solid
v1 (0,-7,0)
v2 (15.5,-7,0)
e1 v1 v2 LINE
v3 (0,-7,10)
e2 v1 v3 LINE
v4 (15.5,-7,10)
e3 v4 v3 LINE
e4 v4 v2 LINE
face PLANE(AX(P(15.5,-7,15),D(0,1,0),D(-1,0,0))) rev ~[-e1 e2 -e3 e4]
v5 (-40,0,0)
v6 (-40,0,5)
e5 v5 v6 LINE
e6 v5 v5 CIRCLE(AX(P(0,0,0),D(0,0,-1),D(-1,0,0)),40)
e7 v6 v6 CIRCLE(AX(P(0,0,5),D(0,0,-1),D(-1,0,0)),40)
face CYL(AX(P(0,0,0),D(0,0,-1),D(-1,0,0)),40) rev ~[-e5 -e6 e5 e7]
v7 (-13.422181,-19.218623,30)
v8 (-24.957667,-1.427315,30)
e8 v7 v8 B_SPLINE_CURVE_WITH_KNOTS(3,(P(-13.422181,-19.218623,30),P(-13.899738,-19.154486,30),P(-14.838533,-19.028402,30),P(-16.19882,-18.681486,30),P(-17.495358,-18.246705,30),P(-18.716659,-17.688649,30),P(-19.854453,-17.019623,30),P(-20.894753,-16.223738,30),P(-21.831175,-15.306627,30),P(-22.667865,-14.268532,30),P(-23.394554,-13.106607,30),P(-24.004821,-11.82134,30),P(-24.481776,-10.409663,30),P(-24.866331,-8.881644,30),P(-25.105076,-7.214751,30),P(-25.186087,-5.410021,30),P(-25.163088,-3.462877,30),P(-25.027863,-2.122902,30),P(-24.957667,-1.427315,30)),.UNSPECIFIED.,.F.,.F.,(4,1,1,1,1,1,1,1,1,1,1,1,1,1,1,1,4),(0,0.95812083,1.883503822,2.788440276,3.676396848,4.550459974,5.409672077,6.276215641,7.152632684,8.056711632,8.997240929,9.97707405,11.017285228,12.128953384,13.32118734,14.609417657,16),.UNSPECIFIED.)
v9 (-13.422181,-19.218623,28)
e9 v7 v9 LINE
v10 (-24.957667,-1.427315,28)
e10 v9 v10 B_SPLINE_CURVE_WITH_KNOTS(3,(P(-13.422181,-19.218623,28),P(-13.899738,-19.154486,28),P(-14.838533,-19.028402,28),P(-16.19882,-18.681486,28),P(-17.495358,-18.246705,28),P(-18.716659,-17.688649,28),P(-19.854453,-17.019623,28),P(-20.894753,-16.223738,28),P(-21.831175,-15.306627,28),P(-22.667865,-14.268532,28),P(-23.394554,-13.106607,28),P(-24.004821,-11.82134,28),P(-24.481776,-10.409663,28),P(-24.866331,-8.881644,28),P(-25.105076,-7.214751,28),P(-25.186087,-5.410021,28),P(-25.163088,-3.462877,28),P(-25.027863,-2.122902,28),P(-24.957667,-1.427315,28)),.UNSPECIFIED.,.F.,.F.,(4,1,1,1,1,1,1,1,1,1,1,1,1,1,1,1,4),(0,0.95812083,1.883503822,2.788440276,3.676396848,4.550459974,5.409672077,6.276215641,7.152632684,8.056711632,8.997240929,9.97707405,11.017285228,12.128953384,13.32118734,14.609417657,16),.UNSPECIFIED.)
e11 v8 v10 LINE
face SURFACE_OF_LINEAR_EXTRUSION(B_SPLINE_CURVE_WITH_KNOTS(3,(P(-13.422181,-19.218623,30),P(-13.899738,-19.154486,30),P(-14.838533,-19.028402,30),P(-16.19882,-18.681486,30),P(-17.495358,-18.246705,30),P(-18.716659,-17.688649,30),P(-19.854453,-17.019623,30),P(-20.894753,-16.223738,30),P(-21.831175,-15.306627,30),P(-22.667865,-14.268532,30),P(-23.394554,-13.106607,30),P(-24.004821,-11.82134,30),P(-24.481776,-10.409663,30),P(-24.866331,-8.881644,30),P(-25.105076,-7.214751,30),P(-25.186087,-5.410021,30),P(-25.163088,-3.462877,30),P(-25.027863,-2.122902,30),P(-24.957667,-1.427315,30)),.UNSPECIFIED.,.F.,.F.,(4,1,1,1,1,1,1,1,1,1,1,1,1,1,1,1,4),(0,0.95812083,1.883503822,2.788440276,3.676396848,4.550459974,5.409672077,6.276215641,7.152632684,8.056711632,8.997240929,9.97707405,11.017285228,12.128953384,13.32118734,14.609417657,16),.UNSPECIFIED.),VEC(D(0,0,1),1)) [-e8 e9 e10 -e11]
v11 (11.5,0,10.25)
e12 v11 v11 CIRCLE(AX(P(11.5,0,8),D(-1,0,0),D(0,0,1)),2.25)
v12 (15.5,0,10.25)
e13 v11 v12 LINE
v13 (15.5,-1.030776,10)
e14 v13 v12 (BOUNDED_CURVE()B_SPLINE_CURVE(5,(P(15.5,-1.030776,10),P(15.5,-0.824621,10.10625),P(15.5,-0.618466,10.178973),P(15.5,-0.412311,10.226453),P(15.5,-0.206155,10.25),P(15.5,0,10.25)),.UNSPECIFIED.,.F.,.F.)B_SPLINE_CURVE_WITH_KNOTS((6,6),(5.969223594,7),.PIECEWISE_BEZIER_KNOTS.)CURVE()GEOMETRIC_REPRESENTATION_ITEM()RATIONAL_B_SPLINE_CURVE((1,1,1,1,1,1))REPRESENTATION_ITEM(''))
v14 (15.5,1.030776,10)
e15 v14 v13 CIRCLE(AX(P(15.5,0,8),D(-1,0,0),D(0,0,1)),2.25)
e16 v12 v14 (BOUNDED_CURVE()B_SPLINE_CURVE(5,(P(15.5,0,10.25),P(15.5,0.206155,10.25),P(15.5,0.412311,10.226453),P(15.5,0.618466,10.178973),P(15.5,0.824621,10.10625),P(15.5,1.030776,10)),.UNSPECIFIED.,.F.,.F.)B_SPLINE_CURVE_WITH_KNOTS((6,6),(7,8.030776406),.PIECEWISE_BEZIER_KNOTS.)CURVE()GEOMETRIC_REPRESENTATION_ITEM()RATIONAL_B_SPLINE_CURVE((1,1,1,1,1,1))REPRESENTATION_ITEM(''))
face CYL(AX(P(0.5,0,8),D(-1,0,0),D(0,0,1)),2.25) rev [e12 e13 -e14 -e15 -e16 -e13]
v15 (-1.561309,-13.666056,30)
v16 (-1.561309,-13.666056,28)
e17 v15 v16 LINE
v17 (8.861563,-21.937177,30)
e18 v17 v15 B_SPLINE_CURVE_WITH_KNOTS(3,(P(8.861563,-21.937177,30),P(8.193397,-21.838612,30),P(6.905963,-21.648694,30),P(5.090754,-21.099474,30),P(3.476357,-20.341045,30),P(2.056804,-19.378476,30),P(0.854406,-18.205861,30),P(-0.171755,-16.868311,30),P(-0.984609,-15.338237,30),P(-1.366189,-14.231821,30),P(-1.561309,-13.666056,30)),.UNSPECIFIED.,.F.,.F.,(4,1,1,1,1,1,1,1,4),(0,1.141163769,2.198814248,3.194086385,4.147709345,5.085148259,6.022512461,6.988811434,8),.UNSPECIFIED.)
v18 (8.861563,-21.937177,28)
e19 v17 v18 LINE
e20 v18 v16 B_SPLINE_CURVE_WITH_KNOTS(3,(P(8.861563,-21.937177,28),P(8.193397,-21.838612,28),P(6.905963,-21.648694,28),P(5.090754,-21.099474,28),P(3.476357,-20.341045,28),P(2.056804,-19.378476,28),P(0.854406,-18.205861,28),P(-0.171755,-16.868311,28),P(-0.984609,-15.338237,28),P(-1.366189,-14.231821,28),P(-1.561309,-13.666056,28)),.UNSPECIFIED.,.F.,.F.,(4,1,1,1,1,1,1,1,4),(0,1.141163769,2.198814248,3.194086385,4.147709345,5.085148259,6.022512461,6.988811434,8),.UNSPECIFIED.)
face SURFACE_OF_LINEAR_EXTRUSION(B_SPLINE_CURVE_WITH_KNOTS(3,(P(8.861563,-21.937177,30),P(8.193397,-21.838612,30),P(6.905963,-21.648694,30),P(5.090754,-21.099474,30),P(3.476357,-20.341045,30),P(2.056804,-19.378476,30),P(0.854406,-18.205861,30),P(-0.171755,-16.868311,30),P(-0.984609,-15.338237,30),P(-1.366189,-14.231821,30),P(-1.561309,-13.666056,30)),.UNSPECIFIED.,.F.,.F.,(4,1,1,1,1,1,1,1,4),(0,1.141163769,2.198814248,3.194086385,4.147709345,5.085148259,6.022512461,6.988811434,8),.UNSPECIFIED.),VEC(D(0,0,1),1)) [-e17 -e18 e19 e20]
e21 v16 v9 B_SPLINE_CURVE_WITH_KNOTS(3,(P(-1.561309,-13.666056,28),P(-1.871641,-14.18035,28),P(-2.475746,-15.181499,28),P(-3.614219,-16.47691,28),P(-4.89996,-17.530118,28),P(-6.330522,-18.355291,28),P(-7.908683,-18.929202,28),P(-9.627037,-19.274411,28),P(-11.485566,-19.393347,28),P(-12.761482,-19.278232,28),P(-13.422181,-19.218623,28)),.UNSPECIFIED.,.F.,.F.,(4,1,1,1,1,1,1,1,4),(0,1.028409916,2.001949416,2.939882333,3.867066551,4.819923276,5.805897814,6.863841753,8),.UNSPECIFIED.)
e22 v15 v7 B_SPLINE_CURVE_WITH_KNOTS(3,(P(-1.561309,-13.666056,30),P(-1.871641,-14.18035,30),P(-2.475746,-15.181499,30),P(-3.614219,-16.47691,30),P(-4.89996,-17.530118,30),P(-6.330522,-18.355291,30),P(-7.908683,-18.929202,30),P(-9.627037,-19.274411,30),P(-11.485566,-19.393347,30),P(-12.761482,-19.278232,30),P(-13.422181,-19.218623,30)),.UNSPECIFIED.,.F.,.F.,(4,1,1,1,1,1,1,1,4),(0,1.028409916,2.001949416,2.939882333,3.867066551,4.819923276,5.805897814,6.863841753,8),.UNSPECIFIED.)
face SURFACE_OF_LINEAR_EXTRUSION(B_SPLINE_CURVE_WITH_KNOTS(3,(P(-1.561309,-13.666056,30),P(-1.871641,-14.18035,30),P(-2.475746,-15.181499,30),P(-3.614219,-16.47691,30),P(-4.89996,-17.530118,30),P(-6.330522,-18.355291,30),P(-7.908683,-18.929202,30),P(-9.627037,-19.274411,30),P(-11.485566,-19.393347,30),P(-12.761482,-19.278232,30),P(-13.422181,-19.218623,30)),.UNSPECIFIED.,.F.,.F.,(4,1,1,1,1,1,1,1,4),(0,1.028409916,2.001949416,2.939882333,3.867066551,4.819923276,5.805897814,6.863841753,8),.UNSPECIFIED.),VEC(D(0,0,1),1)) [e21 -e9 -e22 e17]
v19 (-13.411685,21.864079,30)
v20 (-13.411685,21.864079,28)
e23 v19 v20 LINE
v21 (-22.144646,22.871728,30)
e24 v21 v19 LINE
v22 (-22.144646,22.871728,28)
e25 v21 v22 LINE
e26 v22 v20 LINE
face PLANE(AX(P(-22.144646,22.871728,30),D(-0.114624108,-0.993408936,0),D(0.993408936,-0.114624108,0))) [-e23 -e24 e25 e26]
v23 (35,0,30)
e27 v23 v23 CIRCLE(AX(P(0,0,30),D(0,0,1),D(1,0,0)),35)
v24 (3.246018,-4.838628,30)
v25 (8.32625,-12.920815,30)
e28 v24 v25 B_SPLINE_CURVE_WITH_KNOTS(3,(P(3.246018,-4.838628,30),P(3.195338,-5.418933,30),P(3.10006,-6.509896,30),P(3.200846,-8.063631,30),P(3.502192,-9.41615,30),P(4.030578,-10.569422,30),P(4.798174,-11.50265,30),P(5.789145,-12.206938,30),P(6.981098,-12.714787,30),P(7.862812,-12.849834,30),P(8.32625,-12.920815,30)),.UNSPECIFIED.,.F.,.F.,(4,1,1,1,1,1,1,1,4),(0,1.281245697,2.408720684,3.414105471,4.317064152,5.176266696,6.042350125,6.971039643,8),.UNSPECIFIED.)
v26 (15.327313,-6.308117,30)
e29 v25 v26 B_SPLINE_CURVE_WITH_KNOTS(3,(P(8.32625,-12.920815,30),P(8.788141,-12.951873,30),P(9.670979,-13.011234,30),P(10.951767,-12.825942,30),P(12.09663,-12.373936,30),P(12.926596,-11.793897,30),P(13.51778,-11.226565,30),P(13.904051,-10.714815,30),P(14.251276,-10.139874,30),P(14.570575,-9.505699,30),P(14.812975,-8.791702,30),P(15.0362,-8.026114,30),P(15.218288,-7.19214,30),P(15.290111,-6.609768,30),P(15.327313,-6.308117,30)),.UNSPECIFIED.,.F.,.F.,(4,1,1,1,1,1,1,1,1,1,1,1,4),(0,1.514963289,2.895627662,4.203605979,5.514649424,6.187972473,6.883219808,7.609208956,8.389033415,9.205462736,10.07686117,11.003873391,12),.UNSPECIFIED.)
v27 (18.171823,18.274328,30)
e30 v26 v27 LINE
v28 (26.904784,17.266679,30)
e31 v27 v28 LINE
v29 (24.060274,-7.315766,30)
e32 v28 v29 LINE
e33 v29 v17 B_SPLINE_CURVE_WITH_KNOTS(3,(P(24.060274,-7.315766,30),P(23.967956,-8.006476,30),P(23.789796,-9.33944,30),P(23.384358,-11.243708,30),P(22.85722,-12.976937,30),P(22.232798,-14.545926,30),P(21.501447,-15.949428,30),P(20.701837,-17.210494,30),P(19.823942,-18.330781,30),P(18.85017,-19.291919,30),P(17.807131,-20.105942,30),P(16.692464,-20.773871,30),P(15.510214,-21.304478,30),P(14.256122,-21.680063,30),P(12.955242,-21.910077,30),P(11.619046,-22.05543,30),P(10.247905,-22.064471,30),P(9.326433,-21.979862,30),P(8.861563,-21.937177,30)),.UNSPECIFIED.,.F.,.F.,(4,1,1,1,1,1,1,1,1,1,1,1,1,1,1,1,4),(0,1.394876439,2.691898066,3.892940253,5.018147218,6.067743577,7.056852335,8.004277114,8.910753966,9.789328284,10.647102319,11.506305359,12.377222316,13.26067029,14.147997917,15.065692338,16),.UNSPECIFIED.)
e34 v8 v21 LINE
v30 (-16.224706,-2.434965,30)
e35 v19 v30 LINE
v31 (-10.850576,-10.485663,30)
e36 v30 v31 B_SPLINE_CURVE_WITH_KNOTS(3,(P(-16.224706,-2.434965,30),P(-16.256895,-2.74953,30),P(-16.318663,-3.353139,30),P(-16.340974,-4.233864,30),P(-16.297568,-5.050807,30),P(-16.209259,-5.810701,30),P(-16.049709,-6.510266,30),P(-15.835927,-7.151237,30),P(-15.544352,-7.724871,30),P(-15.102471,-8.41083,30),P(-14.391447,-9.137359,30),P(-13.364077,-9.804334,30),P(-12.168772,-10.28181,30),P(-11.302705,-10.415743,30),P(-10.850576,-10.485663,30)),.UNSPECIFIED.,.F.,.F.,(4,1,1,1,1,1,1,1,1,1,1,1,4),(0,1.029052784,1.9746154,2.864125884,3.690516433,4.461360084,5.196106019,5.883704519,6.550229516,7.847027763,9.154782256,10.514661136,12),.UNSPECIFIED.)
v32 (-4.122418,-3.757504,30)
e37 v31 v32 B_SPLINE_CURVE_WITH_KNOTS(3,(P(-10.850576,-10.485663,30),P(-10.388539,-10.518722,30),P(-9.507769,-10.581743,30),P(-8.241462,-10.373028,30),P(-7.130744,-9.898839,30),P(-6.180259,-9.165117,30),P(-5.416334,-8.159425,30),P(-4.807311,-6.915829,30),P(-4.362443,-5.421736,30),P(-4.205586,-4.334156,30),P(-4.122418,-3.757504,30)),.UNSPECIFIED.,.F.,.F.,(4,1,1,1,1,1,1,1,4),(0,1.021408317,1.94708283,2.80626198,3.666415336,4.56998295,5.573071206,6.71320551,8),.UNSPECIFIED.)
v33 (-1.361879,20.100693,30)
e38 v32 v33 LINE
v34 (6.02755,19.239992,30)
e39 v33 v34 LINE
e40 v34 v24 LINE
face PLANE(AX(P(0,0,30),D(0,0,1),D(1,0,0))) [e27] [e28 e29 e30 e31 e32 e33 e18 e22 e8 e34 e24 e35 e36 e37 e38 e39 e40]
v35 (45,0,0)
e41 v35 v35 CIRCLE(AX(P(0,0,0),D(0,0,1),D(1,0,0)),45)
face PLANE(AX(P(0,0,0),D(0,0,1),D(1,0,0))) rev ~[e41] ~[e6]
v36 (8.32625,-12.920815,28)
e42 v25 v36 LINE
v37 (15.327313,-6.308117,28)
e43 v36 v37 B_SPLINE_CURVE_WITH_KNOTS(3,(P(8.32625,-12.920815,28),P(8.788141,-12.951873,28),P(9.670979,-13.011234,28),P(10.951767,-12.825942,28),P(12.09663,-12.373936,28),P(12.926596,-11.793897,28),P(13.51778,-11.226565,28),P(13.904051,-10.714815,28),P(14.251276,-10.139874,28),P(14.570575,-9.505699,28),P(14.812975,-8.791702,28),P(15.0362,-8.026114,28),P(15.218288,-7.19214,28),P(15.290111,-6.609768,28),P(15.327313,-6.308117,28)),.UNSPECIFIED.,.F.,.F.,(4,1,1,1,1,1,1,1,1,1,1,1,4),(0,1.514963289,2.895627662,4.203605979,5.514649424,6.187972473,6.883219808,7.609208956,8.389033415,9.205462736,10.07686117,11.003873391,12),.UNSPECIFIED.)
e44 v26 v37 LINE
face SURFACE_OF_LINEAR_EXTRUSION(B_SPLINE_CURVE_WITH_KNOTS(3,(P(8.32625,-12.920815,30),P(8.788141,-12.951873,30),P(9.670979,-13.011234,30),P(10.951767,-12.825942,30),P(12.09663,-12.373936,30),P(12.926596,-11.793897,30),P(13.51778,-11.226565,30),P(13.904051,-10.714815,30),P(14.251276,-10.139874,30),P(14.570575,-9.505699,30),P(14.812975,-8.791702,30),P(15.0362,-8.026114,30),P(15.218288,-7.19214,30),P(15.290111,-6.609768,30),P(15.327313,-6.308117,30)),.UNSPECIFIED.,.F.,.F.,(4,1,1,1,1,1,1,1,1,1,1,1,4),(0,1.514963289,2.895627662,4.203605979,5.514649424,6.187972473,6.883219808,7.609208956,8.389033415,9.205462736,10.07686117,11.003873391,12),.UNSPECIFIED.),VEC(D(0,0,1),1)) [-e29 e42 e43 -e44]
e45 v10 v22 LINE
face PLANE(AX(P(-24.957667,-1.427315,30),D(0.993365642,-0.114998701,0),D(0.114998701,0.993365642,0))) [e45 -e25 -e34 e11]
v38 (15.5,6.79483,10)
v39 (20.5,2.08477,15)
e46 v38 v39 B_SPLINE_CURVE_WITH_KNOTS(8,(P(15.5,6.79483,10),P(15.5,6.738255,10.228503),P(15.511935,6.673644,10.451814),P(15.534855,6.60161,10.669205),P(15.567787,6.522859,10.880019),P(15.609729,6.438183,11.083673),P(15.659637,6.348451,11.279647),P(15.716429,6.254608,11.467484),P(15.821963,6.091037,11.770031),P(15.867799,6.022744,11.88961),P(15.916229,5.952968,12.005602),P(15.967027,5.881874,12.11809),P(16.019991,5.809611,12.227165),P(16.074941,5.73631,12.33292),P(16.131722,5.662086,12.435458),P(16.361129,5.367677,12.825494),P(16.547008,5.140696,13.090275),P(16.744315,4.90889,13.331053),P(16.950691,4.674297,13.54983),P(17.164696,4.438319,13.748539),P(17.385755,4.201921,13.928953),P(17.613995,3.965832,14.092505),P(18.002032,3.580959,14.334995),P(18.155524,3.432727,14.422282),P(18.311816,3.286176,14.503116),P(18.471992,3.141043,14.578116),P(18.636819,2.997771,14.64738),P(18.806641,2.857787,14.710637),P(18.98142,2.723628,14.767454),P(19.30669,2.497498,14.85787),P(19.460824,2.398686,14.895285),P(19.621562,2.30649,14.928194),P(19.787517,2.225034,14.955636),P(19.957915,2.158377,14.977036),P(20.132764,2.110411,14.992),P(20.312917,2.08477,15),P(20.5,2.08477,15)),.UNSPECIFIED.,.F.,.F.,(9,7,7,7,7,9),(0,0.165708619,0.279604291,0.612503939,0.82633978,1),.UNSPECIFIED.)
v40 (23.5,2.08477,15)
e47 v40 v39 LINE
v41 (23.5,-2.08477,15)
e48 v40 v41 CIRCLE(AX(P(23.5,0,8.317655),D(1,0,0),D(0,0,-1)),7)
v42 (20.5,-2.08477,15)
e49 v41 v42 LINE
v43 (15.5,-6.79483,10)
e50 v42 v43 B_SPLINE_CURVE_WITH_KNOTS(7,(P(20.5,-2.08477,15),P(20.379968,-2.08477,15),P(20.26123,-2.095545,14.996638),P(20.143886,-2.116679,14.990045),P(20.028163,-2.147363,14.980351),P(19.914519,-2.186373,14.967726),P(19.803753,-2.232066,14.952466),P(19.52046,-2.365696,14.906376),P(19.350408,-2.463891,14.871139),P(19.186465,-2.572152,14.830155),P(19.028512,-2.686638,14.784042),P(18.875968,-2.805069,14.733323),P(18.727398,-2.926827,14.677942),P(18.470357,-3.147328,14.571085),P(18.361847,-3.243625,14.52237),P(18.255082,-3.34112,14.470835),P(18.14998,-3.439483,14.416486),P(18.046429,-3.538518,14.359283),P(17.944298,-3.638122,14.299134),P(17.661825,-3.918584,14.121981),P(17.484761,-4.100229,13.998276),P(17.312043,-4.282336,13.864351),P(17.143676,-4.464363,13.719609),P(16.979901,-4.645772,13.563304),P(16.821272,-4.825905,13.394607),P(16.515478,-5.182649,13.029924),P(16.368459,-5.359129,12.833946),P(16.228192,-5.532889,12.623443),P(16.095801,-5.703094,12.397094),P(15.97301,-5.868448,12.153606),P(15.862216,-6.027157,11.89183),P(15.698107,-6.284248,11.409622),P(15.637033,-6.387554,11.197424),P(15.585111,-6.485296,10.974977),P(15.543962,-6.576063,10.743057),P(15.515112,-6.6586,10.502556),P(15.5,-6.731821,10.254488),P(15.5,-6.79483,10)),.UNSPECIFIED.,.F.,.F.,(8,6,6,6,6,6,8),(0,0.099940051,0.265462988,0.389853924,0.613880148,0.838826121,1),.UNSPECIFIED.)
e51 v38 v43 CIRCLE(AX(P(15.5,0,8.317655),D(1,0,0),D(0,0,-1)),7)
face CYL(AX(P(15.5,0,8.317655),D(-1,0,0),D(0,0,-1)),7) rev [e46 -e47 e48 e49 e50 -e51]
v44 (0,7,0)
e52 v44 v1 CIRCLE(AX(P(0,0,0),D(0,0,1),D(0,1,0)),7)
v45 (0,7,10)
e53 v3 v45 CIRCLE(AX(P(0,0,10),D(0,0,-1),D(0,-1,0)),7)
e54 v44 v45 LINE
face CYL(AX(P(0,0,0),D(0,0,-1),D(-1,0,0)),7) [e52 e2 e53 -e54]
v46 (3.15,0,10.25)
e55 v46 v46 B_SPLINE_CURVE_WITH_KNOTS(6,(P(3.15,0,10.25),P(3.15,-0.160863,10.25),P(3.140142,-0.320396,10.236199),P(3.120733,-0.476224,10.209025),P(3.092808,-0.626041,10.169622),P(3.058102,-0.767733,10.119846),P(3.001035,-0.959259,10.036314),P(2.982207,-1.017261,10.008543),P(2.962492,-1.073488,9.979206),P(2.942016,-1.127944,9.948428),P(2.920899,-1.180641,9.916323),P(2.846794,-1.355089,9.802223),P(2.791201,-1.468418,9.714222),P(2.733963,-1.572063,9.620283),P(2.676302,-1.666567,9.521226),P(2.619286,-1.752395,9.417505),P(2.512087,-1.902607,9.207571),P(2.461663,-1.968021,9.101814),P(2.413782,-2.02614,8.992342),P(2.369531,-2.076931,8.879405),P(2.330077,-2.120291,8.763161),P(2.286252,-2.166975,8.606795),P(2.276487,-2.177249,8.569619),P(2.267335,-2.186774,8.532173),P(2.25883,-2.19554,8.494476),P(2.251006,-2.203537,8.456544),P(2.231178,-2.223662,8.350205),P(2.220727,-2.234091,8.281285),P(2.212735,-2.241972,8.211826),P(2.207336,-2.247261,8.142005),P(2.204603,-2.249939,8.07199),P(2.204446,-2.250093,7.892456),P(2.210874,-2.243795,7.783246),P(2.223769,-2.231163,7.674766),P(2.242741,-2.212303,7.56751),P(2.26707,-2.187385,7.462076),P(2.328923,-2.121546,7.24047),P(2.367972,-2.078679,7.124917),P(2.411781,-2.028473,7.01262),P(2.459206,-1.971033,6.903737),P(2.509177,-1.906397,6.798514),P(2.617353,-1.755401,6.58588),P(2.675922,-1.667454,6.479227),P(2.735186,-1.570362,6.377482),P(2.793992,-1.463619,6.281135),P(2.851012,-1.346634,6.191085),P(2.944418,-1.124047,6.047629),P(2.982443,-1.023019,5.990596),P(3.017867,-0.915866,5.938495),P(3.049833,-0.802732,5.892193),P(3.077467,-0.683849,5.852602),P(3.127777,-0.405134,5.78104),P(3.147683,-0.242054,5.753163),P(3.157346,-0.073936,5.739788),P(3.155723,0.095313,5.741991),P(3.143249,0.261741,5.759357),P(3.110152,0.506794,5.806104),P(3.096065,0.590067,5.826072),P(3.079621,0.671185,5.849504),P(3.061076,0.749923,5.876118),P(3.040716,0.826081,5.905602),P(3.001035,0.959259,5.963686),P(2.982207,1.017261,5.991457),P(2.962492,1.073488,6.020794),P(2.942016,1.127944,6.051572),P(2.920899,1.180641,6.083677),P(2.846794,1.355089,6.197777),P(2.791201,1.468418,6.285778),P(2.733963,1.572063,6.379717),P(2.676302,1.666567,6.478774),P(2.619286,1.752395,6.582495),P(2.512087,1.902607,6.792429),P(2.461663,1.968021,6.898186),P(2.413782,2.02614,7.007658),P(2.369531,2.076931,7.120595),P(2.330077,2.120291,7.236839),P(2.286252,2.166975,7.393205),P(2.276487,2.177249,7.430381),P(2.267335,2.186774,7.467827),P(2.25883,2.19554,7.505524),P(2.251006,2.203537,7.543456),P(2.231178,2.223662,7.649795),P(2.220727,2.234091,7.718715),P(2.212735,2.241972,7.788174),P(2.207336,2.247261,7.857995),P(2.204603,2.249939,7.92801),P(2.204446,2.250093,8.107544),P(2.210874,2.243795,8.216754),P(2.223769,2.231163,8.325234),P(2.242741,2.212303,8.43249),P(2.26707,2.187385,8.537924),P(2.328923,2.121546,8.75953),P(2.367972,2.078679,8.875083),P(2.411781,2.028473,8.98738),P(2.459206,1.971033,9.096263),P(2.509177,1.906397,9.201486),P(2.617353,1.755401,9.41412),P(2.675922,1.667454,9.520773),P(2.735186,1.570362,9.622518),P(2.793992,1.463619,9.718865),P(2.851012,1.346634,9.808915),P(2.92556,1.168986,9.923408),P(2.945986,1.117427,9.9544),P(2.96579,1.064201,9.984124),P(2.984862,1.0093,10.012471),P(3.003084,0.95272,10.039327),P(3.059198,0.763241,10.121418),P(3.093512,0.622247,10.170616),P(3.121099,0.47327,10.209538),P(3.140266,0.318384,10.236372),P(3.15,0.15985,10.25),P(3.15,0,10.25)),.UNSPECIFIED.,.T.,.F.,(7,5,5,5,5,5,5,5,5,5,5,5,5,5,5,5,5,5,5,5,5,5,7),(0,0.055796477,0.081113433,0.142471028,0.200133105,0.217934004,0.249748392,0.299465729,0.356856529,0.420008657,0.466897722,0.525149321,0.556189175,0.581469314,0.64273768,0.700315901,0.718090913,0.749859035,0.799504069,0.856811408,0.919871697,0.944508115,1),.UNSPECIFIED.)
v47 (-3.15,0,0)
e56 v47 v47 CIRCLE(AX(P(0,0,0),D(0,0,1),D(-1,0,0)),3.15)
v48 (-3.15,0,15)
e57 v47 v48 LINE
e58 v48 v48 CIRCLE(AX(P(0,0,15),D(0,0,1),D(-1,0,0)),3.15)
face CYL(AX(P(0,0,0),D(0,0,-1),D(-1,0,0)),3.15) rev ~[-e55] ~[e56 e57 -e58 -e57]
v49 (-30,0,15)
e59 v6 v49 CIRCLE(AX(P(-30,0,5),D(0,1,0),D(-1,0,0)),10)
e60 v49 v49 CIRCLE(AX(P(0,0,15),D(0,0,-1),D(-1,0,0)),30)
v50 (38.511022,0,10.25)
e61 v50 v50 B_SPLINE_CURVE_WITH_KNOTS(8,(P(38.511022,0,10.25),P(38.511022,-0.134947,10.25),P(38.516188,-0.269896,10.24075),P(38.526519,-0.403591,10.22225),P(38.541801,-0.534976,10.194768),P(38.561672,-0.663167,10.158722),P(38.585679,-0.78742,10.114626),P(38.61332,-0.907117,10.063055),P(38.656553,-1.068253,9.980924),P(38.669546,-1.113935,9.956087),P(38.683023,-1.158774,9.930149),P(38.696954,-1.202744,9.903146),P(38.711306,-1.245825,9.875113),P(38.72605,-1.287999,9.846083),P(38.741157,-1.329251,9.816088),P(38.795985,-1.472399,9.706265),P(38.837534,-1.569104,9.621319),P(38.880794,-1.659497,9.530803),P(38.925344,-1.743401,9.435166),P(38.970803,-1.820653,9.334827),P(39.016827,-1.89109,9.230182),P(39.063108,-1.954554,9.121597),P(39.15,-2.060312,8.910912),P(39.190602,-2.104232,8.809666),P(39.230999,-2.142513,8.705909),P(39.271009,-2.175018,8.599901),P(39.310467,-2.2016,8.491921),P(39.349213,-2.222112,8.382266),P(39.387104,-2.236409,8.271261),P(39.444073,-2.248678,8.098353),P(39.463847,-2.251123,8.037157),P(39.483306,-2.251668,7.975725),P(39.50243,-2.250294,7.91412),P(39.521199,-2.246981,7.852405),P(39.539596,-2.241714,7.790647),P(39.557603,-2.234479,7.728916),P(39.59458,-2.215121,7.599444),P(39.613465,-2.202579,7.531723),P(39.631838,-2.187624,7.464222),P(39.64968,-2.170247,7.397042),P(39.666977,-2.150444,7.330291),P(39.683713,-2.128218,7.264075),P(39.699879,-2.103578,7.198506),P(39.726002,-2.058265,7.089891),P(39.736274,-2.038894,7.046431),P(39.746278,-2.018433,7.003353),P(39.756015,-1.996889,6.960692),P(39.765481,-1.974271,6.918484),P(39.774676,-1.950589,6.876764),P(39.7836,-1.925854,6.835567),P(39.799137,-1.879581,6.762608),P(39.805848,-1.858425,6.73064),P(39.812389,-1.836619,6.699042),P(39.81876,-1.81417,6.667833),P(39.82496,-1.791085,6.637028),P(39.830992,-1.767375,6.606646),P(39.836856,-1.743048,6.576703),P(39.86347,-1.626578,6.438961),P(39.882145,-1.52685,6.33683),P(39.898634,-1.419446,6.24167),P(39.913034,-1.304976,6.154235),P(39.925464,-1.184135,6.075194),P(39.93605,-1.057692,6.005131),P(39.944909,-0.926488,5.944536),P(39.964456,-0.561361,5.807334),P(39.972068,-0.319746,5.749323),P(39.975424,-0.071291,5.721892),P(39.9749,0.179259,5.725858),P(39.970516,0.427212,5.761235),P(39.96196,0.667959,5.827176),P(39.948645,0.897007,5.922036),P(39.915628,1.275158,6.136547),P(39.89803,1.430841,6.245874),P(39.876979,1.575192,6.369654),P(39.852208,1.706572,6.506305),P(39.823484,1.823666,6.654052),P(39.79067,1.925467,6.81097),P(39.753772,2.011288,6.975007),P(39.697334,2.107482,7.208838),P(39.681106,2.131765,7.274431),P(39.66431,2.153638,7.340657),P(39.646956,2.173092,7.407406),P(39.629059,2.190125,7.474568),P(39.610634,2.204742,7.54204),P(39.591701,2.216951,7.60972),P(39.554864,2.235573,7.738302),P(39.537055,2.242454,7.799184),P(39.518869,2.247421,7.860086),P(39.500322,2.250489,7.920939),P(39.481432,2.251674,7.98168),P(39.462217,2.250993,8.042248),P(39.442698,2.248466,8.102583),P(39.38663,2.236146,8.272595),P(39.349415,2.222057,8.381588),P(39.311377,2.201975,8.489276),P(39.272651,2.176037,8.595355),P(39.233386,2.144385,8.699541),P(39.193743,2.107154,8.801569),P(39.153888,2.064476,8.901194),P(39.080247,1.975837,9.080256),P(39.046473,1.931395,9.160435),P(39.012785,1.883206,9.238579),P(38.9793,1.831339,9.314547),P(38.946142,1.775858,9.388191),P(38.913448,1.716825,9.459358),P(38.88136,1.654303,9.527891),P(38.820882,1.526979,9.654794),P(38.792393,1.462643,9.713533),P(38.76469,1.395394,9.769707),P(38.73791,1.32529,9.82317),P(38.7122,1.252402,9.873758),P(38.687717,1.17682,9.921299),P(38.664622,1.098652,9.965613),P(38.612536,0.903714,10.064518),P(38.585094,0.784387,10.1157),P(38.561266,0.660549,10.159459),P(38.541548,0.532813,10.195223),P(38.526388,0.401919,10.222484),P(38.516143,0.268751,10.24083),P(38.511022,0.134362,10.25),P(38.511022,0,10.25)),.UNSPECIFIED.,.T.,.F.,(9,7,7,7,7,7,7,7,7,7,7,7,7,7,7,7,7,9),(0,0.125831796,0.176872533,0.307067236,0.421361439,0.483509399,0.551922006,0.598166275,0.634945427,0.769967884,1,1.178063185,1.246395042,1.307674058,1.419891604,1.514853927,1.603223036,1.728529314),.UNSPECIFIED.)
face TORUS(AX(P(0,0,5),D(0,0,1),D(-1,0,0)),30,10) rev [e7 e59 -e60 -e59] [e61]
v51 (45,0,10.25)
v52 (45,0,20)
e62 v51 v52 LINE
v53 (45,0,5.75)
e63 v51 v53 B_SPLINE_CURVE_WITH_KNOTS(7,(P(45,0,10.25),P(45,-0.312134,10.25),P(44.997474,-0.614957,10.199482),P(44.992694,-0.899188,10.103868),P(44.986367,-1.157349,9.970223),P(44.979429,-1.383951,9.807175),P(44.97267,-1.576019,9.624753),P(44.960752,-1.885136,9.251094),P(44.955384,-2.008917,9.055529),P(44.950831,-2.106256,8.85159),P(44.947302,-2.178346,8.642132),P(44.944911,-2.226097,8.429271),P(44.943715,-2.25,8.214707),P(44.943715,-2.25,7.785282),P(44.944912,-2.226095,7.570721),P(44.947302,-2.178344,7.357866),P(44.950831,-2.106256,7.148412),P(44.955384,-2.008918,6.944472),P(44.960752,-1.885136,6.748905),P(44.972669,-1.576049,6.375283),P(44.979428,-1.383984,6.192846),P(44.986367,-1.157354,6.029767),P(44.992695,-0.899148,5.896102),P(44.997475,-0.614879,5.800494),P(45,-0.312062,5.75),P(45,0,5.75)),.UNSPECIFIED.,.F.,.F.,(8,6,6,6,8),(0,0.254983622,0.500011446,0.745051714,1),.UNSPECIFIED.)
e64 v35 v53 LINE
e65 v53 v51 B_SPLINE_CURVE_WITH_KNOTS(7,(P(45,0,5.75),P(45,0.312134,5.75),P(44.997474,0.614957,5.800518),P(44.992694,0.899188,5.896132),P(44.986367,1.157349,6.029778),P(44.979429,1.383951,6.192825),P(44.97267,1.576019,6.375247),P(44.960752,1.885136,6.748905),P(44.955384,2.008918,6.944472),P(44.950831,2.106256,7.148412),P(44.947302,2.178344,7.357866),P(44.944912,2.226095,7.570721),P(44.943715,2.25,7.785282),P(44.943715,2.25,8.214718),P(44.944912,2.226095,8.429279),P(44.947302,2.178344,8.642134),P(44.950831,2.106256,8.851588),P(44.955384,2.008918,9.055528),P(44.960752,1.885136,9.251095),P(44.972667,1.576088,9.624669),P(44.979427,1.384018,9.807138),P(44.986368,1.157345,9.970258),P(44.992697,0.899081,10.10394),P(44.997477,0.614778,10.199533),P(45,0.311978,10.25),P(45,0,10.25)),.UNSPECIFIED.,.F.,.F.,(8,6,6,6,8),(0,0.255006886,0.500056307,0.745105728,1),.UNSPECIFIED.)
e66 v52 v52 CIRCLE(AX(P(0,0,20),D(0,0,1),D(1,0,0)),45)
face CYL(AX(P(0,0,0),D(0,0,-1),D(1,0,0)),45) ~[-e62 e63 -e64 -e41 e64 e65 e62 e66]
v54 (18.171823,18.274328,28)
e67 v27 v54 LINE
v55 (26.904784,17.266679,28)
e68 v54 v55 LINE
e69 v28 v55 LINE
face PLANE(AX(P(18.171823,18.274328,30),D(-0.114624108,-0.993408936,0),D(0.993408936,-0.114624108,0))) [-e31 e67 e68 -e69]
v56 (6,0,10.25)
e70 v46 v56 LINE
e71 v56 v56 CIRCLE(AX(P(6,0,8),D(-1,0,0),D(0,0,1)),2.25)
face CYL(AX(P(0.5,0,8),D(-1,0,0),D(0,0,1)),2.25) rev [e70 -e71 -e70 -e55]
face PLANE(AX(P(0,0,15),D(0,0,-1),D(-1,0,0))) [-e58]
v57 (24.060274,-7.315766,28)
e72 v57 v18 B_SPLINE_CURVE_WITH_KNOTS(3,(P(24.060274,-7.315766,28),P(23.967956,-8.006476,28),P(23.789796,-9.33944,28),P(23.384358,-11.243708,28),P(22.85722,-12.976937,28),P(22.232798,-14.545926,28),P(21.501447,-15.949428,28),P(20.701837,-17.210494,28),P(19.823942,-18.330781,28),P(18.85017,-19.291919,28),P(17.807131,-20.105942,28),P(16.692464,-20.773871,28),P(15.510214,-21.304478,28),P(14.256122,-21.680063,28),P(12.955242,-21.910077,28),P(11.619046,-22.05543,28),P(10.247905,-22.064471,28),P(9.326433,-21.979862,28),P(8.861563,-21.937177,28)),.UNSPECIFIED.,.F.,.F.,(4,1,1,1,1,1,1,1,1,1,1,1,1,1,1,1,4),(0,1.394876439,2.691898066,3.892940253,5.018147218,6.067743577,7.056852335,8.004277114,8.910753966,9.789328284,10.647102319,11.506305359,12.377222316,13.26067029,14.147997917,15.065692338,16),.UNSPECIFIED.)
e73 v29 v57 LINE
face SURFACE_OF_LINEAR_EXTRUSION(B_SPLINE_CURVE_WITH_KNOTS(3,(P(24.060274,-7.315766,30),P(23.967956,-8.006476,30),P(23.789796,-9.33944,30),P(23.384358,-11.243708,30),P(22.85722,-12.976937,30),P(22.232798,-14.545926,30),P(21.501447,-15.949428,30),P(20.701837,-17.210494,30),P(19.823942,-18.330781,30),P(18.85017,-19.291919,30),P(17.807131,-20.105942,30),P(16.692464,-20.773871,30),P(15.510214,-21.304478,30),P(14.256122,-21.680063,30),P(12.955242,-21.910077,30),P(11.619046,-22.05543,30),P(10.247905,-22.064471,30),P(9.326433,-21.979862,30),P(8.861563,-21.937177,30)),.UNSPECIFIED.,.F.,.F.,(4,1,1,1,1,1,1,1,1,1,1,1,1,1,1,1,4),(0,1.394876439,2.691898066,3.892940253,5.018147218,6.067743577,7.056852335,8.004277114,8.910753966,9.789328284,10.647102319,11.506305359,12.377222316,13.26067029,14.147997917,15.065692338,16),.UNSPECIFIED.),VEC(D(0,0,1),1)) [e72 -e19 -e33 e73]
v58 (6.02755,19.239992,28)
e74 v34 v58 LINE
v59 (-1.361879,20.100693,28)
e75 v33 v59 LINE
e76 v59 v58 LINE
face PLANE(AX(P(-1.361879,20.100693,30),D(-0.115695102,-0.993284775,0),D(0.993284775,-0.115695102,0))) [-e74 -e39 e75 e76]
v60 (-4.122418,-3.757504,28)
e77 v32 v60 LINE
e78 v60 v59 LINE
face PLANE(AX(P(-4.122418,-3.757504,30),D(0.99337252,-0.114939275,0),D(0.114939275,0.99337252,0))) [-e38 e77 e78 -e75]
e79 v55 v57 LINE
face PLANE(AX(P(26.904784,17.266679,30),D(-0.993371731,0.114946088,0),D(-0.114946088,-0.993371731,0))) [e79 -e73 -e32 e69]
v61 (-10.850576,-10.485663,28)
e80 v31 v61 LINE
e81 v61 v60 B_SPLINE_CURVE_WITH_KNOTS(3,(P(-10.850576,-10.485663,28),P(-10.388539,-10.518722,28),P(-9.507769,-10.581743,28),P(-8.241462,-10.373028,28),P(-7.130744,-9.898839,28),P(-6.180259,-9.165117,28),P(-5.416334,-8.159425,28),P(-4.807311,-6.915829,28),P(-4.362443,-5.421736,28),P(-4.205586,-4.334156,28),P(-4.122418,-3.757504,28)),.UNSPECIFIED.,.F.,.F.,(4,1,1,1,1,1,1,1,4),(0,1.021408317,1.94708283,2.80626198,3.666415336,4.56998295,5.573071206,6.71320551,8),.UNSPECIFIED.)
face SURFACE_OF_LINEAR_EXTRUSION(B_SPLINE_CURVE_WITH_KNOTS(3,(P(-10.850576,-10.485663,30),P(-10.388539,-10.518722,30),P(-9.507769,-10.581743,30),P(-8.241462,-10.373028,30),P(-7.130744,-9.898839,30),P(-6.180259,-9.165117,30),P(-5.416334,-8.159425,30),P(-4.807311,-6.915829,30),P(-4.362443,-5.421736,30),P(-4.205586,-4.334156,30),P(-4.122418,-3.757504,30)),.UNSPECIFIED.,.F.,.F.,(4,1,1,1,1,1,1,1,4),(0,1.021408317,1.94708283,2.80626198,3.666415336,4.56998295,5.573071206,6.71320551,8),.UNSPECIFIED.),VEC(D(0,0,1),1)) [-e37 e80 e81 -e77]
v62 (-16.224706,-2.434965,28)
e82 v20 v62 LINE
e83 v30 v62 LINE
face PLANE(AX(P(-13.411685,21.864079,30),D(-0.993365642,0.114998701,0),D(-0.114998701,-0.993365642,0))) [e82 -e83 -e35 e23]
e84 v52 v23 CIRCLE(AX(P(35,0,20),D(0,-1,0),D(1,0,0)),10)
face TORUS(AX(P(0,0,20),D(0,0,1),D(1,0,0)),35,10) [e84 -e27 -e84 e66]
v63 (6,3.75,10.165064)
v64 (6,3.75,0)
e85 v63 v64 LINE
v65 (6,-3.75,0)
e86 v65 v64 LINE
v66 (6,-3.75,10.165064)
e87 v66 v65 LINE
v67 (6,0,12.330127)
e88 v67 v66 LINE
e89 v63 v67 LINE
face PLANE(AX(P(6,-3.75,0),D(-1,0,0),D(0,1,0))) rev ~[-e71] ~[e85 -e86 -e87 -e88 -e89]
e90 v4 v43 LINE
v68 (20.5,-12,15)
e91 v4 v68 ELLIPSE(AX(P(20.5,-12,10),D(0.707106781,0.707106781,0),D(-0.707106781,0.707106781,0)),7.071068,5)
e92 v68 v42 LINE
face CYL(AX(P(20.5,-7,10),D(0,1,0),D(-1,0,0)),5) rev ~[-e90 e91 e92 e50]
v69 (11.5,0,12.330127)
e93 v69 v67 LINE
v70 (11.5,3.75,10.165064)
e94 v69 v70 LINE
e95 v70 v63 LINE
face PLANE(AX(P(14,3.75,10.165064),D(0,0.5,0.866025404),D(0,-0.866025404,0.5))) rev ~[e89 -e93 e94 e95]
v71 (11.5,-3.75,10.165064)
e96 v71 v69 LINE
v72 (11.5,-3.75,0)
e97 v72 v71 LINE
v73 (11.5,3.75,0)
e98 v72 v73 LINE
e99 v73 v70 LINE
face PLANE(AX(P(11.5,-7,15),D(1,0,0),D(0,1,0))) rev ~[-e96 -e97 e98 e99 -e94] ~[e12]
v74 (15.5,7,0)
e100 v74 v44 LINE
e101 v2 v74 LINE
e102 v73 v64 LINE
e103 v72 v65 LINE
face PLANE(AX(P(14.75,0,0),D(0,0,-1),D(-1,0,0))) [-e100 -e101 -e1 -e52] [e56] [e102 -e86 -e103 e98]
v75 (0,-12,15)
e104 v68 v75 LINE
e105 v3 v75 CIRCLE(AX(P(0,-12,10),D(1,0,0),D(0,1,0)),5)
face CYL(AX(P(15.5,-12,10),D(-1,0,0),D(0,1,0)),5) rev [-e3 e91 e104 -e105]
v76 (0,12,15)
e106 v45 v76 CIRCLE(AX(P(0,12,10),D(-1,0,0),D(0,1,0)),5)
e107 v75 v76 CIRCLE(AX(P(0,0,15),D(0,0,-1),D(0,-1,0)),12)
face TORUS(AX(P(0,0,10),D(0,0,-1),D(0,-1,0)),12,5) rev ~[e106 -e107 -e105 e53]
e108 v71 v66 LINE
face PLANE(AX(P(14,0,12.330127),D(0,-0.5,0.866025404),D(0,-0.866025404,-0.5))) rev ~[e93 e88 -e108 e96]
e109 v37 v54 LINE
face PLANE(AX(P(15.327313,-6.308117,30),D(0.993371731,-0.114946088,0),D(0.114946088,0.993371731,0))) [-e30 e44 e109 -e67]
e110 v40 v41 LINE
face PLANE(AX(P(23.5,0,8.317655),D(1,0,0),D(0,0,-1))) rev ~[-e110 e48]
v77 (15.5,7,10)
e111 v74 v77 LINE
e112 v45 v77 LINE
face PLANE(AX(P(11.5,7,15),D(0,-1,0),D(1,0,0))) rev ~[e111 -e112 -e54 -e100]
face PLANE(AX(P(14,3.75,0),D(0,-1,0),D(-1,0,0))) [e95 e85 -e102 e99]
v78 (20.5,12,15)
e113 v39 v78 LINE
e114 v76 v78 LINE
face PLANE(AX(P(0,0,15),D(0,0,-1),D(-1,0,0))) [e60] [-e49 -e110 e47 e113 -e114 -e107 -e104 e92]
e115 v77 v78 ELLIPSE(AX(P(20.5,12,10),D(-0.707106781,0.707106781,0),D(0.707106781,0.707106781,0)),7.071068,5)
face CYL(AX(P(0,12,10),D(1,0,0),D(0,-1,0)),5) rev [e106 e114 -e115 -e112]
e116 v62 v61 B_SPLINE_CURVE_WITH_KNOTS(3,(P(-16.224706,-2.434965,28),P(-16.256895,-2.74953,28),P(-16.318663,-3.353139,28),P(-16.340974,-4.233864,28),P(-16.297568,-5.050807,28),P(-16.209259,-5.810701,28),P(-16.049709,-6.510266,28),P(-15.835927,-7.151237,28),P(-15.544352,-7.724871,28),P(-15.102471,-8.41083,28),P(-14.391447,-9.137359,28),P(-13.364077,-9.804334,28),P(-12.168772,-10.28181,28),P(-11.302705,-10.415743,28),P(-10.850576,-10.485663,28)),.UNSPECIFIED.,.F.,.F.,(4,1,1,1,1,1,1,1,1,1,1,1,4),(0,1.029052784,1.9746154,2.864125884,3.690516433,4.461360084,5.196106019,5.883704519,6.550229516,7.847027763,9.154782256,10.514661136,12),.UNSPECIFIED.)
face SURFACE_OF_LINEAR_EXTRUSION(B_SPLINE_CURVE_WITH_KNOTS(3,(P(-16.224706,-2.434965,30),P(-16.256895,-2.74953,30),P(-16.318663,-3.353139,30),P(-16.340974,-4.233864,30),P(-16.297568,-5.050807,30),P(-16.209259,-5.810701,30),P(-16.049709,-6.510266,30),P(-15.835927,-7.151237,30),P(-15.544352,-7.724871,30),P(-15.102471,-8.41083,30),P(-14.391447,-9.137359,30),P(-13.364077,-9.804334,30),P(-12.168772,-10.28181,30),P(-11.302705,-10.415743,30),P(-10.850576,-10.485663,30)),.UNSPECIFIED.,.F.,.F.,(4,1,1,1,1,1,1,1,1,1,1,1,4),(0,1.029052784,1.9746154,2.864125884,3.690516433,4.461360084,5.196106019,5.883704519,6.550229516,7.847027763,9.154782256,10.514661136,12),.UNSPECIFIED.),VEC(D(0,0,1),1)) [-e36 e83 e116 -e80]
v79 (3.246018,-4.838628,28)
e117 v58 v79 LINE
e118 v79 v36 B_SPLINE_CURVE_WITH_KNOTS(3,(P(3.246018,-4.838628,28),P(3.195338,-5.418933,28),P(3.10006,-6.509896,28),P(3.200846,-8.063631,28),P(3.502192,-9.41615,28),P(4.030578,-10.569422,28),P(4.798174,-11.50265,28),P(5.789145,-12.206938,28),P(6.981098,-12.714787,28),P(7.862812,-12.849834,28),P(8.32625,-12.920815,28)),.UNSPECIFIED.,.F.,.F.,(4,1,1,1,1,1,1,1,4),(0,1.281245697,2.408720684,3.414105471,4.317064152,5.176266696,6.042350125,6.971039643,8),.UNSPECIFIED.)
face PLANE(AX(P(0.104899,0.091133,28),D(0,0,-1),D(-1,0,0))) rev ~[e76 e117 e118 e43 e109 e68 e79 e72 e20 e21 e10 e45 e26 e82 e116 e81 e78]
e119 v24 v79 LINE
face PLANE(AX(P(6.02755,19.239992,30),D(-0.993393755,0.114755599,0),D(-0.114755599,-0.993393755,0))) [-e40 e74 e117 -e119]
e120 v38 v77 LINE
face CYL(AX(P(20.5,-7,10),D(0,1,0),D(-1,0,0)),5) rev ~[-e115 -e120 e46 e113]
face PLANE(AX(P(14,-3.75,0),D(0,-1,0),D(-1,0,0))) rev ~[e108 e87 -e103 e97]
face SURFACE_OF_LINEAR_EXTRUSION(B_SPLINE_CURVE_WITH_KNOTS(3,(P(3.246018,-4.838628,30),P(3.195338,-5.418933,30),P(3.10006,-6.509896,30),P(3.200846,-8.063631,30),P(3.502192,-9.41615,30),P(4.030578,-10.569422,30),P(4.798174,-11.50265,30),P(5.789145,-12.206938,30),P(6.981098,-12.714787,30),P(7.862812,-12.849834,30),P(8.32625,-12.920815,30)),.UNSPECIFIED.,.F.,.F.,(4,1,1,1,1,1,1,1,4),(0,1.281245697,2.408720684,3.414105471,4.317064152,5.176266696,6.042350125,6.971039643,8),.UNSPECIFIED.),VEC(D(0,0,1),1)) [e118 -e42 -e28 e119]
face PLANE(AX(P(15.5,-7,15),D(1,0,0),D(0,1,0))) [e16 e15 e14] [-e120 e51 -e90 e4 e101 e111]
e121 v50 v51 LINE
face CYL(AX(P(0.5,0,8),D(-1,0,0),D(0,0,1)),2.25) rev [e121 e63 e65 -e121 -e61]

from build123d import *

# Parameters (mm, degrees)
ESQUISSE1_R                  = 45
BOSS_EXTRU_1_DEPTH           = 30
CONG_1_R                     = 10
ESQUISSE3_R                  = 40
ESQUISSE3_R_2                = 7
ESQUISSE3_R_3                = 3.15
ENL_V_MAT_EXTRU_1_DEPTH      = 15
CONG_2_R                     = 10
ENL_V_MAT_EXTRU_2_DEPTH      = 2
BOSS_EXTRU_3_DEPTH           = 22
ENL_V_MAT_EXTRU_3_DEPTH      = 8
ESQUISSE14_W                 = 8
ESQUISSE14_H                 = 7.5
ENL_V_MAT_EXTRU_4_DEPTH      = 8
ESQUISSE15_W                 = 1.5
ESQUISSE15_H                 = 14
ESQUISSE15_W_2               = 2.5
BOSS_EXTRU_4_DEPTH           = 15
ENL_V_MAT_EXTRU_5_DEPTH      = 31
ENL_V_MAT_EXTRU_5_DEPTH_BACK = 15
ESQUISSE16_R                 = 2.25
CONG_3_R                     = 5
ESQUISSE17_R                 = 7
ENL_V_MAT_EXTRU_6_DEPTH      = 8


with BuildPart() as part:
    # Esquisse1 → Boss.-Extru.1 (new body)
    with BuildSketch(Plane.XY):
        Circle(ESQUISSE1_R)
    extrude(amount=BOSS_EXTRU_1_DEPTH)

    # Congé1
    cong_1_edges = [part.edges().sort_by_distance(p)[0] for p in [
        (-45, 0, 30),
    ]]
    fillet(cong_1_edges, radius=CONG_1_R)

    # Esquisse3 → Enlèv. mat.-Extru.1 (cut)
    # profile 1 of 2: a face of its own
    with BuildSketch(Plane(origin=(0, 0, 0), x_dir=(-1, 0, 0), z_dir=(0, 0, -1))):
        Circle(ESQUISSE3_R)
        Circle(ESQUISSE3_R_2, mode=Mode.SUBTRACT)
    # profile 2 of 2: a face of its own
    with BuildSketch(Plane(origin=(0, 0, 0), x_dir=(-1, 0, 0), z_dir=(0, 0, -1))):
        Circle(ESQUISSE3_R_3)
    extrude(amount=-ENL_V_MAT_EXTRU_1_DEPTH, mode=Mode.SUBTRACT)

    # Congé2
    cong_2_edges = [part.edges().sort_by_distance(p)[0] for p in [
        (40, 0, 15),
    ]]
    fillet(cong_2_edges, radius=CONG_2_R)

    # Esquisse4 → Enlèv. mat.-Extru.2 (cut)
    with BuildSketch(Plane.XY.offset(30)):
        with BuildLine():
            Line((-22.144645679, 22.871728166), (-13.411684949, 21.864078851))
            Line((-13.411684949, 21.864078851), (-16.224705953, -2.434964528))
            add(Edge.make_bspline(
                [(-16.224705953, -2.434964528), (-16.256895394, -2.749529996), (-16.318662647, -3.353139284), (-16.340974486, -4.233864403), (-16.297568174, -5.05080651), (-16.209258973, -5.810700887), (-16.049709468, -6.510266382), (-15.835926627, -7.151237119), (-15.544352246, -7.724871201), (-15.102471016, -8.410829584), (-14.391447141, -9.137358845), (-13.364077291, -9.804334199), (-12.168771745, -10.281809796), (-11.302704519, -10.415743134), (-10.850576273, -10.485662702)],
                knots=[0, 0, 0, 0, 1.029052784, 1.9746154, 2.864125884, 3.690516433, 4.461360084, 5.196106019, 5.883704519, 6.550229516, 7.847027763, 9.154782256, 10.514661136, 12, 12, 12, 12], degree=3))
            add(Edge.make_bspline(
                [(-10.850576273, -10.485662702), (-10.388538715, -10.518722359), (-9.507769114, -10.581743082), (-8.241462414, -10.373028261), (-7.130743608, -9.898839405), (-6.180259361, -9.165116879), (-5.41633373, -8.159424838), (-4.807311446, -6.915829185), (-4.36244309, -5.421735756), (-4.205585893, -4.334155707), (-4.122417825, -3.757504254)],
                knots=[0, 0, 0, 0, 1.021408317, 1.94708283, 2.80626198, 3.666415336, 4.56998295, 5.573071206, 6.71320551, 8, 8, 8, 8], degree=3))
            Line((-4.122417825, -3.757504254), (-1.361878556, 20.100692549))
            Line((-1.361878556, 20.100692549), (6.027549754, 19.239992093))
            Line((6.027549754, 19.239992093), (3.246017791, -4.838627999))
            add(Edge.make_bspline(
                [(3.246017791, -4.838627999), (3.195337805, -5.418932779), (3.100060271, -6.509896153), (3.200846418, -8.063631191), (3.502191789, -9.416150043), (4.030577709, -10.569421741), (4.79817358, -11.502650362), (5.789145136, -12.206937692), (6.981097787, -12.714787486), (7.862811963, -12.849833616), (8.326249754, -12.920815213)],
                knots=[0, 0, 0, 0, 1.281245697, 2.408720684, 3.414105471, 4.317064152, 5.176266696, 6.042350125, 6.971039643, 8, 8, 8, 8], degree=3))
            add(Edge.make_bspline(
                [(8.326249754, -12.920815213), (8.788141435, -12.95187261), (9.670978885, -13.011234217), (10.951767235, -12.825942037), (12.09662951, -12.373936159), (12.926595681, -11.793896672), (13.517779888, -11.226565316), (13.904051152, -10.714814626), (14.251276342, -10.139874431), (14.570575393, -9.505698745), (14.812975228, -8.791702106), (15.036199887, -8.026114103), (15.218288171, -7.192139962), (15.290111141, -6.609767539), (15.327313225, -6.308116583)],
                knots=[0, 0, 0, 0, 1.514963289, 2.895627662, 4.203605979, 5.514649424, 6.187972473, 6.883219808, 7.609208956, 8.389033415, 9.205462736, 10.07686117, 11.003873391, 12, 12, 12, 12], degree=3))
            Line((15.327313225, -6.308116583), (18.17182327, 18.274328166))
            Line((18.17182327, 18.274328166), (26.904784001, 17.266678851))
            Line((26.904784001, 17.266678851), (24.060273955, -7.315765898))
            add(Edge.make_bspline(
                [(24.060273955, -7.315765898), (23.967955783, -8.006475678), (23.789795838, -9.339439852), (23.384357503, -11.243708182), (22.85722021, -12.976937412), (22.232797618, -14.545925787), (21.501446812, -15.949427752), (20.701837208, -17.210493748), (19.823941524, -18.330780706), (18.850170073, -19.291918516), (17.80713126, -20.105941628), (16.692463853, -20.773870797), (15.510213899, -21.304477515), (14.25612176, -21.680062816), (12.955241569, -21.910077191), (11.619045856, -22.055429721), (10.247905107, -22.064471081), (9.32643267, -21.979861564), (8.861563453, -21.937177314)],
                knots=[0, 0, 0, 0, 1.394876439, 2.691898066, 3.892940253, 5.018147218, 6.067743577, 7.056852335, 8.004277114, 8.910753966, 9.789328284, 10.647102319, 11.506305359, 12.377222316, 13.26067029, 14.147997917, 15.065692338, 16, 16, 16, 16], degree=3))
            add(Edge.make_bspline(
                [(8.861563453, -21.937177314), (8.193397296, -21.838611708), (6.905963094, -21.64869378), (5.09075363, -21.099474321), (3.476356998, -20.341045448), (2.056804317, -19.378476271), (0.854405876, -18.205860501), (-0.171754699, -16.868311251), (-0.984609243, -15.338236734), (-1.366188524, -14.231821472), (-1.56130915, -13.666055852)],
                knots=[0, 0, 0, 0, 1.141163769, 2.198814248, 3.194086385, 4.147709345, 5.085148259, 6.022512461, 6.988811434, 8, 8, 8, 8], degree=3))
            add(Edge.make_bspline(
                [(-1.56130915, -13.666055852), (-1.871640737, -14.180350205), (-2.475746289, -15.181498932), (-3.614218819, -16.476909983), (-4.899960101, -17.530118409), (-6.330522074, -18.355291156), (-7.908683346, -18.929201697), (-9.627036508, -19.274410878), (-11.485566119, -19.393346682), (-12.761481825, -19.278232362), (-13.422181296, -19.218623432)],
                knots=[0, 0, 0, 0, 1.028409916, 2.001949416, 2.939882333, 3.867066551, 4.819923276, 5.805897814, 6.863841753, 8, 8, 8, 8], degree=3))
            add(Edge.make_bspline(
                [(-13.422181296, -19.218623432), (-13.899737749, -19.154485913), (-14.838533125, -19.028402376), (-16.198819588, -18.681486488), (-17.495358388, -18.246704571), (-18.716659117, -17.688648624), (-19.854452529, -17.019622786), (-20.894753111, -16.223737722), (-21.831175407, -15.306627023), (-22.667865015, -14.26853153), (-23.394554113, -13.106606892), (-24.004820997, -11.821339515), (-24.481775919, -10.4096633), (-24.866331461, -8.881644272), (-25.105076103, -7.214751414), (-25.186086506, -5.41002077), (-25.163088385, -3.462876846), (-25.027862816, -2.122901673), (-24.957666684, -1.427315213)],
                knots=[0, 0, 0, 0, 0.95812083, 1.883503822, 2.788440276, 3.676396848, 4.550459974, 5.409672077, 6.276215641, 7.152632684, 8.056711632, 8.997240929, 9.97707405, 11.017285228, 12.128953384, 13.32118734, 14.609417657, 16, 16, 16, 16], degree=3))
            Line((-24.957666684, -1.427315213), (-22.144645679, 22.871728166))
        make_face()
    extrude(amount=-ENL_V_MAT_EXTRU_2_DEPTH, mode=Mode.SUBTRACT)

    # Esquisse12 → Boss.-Extru.3 (add)
    with BuildSketch(Plane(origin=(0, 0, 0), x_dir=(-1, 0, 0), z_dir=(0, 0, -1))):
        with BuildLine():
            ThreePointArc((0, 7), (-7, 0), (0, -7))
            Line((0, -7), (0, -3.15))
            ThreePointArc((0, -3.15), (-3.15, 0), (0, 3.15))
            Line((0, 3.15), (0, 7))
        make_face()
        with BuildLine():
            Line((0, -3.15), (0, -7))
            ThreePointArc((0, -7), (4.949747468, -4.949747468), (7, 0))
            ThreePointArc((7, 0), (4.949747468, 4.949747468), (0, 7))
            Line((0, 7), (0, 3.15))
            ThreePointArc((0, 3.15), (2.227386361, 2.227386361), (3.15, 0))
            ThreePointArc((3.15, 0), (2.227386361, -2.227386361), (0, -3.15))
        make_face()
        with BuildLine():
            Line((-14, -7), (0, -7))
            ThreePointArc((0, -7), (-7, 0), (0, 7))
            Line((0, 7), (-14, 7))
            Line((-14, 7), (-14, -7))
        make_face()
    extrude(amount=-BOSS_EXTRU_3_DEPTH)

    # Esquisse13 → Enlèv. mat.-Extru.3 (cut)
    with BuildSketch(Plane(origin=(14, 0, 0), x_dir=(0, 0, -1), z_dir=(1, 0, 0))):
        Polygon((-10.165063509, 3.75), (-12.330127019, 0), (-10.165063509, -3.75), (-5.834936491, -3.75), (-3.669872981, 0), (-5.834936491, 3.75), align=None)
    extrude(amount=-ENL_V_MAT_EXTRU_3_DEPTH, mode=Mode.SUBTRACT)

    # Esquisse14 → Enlèv. mat.-Extru.4 (cut)
    with BuildSketch(Plane(origin=(0, 0, 0), x_dir=(-1, 0, 0), z_dir=(0, 0, -1))):
        with Locations((-10, 0)):
            Rectangle(ESQUISSE14_W, ESQUISSE14_H)
    extrude(amount=-ENL_V_MAT_EXTRU_4_DEPTH, mode=Mode.SUBTRACT)

    # Esquisse15 → Boss.-Extru.4 (add)
    with BuildSketch(Plane(origin=(0, 0, 15), x_dir=(-1, 0, 0), z_dir=(0, 0, -1))):
        with Locations((-14.75, 0)):
            Rectangle(ESQUISSE15_W, ESQUISSE15_H)
        with Locations((-12.75, 0)):
            Rectangle(ESQUISSE15_W_2, ESQUISSE15_H)
    extrude(amount=BOSS_EXTRU_4_DEPTH)

    # Esquisse16 → Enlèv. mat.-Extru.5 (cut, two sides: drawn at the far end of the back side and taken through both)
    with BuildSketch(Plane(origin=(15.5, 0, 0), x_dir=(0, 0, -1), z_dir=(1, 0, 0)).offset(-ENL_V_MAT_EXTRU_5_DEPTH_BACK)):
        with Locations(Location((-8, 0, 0), (0, 0, 180))):
            Circle(ESQUISSE16_R)
    extrude(amount=ENL_V_MAT_EXTRU_5_DEPTH + ENL_V_MAT_EXTRU_5_DEPTH_BACK, mode=Mode.SUBTRACT)

    # Congé3
    cong_3_edges = [part.edges().sort_by_distance(p)[0] for p in [
        (15.5, 0, 15),
        (-7, 0, 15),
        (7.75, -7, 15),
        (7.75, 7, 15),
    ]]
    fillet(cong_3_edges, radius=CONG_3_R)

    # Esquisse17 → Enlèv. mat.-Extru.6 (cut)
    with BuildSketch(Plane(origin=(15.5, 0, 0), x_dir=(0, 0, -1), z_dir=(1, 0, 0))):
        with Locations((-8.317654901, 0)):
            Circle(ESQUISSE17_R)
    extrude(amount=ENL_V_MAT_EXTRU_6_DEPTH, mode=Mode.SUBTRACT)


solid = part.part
